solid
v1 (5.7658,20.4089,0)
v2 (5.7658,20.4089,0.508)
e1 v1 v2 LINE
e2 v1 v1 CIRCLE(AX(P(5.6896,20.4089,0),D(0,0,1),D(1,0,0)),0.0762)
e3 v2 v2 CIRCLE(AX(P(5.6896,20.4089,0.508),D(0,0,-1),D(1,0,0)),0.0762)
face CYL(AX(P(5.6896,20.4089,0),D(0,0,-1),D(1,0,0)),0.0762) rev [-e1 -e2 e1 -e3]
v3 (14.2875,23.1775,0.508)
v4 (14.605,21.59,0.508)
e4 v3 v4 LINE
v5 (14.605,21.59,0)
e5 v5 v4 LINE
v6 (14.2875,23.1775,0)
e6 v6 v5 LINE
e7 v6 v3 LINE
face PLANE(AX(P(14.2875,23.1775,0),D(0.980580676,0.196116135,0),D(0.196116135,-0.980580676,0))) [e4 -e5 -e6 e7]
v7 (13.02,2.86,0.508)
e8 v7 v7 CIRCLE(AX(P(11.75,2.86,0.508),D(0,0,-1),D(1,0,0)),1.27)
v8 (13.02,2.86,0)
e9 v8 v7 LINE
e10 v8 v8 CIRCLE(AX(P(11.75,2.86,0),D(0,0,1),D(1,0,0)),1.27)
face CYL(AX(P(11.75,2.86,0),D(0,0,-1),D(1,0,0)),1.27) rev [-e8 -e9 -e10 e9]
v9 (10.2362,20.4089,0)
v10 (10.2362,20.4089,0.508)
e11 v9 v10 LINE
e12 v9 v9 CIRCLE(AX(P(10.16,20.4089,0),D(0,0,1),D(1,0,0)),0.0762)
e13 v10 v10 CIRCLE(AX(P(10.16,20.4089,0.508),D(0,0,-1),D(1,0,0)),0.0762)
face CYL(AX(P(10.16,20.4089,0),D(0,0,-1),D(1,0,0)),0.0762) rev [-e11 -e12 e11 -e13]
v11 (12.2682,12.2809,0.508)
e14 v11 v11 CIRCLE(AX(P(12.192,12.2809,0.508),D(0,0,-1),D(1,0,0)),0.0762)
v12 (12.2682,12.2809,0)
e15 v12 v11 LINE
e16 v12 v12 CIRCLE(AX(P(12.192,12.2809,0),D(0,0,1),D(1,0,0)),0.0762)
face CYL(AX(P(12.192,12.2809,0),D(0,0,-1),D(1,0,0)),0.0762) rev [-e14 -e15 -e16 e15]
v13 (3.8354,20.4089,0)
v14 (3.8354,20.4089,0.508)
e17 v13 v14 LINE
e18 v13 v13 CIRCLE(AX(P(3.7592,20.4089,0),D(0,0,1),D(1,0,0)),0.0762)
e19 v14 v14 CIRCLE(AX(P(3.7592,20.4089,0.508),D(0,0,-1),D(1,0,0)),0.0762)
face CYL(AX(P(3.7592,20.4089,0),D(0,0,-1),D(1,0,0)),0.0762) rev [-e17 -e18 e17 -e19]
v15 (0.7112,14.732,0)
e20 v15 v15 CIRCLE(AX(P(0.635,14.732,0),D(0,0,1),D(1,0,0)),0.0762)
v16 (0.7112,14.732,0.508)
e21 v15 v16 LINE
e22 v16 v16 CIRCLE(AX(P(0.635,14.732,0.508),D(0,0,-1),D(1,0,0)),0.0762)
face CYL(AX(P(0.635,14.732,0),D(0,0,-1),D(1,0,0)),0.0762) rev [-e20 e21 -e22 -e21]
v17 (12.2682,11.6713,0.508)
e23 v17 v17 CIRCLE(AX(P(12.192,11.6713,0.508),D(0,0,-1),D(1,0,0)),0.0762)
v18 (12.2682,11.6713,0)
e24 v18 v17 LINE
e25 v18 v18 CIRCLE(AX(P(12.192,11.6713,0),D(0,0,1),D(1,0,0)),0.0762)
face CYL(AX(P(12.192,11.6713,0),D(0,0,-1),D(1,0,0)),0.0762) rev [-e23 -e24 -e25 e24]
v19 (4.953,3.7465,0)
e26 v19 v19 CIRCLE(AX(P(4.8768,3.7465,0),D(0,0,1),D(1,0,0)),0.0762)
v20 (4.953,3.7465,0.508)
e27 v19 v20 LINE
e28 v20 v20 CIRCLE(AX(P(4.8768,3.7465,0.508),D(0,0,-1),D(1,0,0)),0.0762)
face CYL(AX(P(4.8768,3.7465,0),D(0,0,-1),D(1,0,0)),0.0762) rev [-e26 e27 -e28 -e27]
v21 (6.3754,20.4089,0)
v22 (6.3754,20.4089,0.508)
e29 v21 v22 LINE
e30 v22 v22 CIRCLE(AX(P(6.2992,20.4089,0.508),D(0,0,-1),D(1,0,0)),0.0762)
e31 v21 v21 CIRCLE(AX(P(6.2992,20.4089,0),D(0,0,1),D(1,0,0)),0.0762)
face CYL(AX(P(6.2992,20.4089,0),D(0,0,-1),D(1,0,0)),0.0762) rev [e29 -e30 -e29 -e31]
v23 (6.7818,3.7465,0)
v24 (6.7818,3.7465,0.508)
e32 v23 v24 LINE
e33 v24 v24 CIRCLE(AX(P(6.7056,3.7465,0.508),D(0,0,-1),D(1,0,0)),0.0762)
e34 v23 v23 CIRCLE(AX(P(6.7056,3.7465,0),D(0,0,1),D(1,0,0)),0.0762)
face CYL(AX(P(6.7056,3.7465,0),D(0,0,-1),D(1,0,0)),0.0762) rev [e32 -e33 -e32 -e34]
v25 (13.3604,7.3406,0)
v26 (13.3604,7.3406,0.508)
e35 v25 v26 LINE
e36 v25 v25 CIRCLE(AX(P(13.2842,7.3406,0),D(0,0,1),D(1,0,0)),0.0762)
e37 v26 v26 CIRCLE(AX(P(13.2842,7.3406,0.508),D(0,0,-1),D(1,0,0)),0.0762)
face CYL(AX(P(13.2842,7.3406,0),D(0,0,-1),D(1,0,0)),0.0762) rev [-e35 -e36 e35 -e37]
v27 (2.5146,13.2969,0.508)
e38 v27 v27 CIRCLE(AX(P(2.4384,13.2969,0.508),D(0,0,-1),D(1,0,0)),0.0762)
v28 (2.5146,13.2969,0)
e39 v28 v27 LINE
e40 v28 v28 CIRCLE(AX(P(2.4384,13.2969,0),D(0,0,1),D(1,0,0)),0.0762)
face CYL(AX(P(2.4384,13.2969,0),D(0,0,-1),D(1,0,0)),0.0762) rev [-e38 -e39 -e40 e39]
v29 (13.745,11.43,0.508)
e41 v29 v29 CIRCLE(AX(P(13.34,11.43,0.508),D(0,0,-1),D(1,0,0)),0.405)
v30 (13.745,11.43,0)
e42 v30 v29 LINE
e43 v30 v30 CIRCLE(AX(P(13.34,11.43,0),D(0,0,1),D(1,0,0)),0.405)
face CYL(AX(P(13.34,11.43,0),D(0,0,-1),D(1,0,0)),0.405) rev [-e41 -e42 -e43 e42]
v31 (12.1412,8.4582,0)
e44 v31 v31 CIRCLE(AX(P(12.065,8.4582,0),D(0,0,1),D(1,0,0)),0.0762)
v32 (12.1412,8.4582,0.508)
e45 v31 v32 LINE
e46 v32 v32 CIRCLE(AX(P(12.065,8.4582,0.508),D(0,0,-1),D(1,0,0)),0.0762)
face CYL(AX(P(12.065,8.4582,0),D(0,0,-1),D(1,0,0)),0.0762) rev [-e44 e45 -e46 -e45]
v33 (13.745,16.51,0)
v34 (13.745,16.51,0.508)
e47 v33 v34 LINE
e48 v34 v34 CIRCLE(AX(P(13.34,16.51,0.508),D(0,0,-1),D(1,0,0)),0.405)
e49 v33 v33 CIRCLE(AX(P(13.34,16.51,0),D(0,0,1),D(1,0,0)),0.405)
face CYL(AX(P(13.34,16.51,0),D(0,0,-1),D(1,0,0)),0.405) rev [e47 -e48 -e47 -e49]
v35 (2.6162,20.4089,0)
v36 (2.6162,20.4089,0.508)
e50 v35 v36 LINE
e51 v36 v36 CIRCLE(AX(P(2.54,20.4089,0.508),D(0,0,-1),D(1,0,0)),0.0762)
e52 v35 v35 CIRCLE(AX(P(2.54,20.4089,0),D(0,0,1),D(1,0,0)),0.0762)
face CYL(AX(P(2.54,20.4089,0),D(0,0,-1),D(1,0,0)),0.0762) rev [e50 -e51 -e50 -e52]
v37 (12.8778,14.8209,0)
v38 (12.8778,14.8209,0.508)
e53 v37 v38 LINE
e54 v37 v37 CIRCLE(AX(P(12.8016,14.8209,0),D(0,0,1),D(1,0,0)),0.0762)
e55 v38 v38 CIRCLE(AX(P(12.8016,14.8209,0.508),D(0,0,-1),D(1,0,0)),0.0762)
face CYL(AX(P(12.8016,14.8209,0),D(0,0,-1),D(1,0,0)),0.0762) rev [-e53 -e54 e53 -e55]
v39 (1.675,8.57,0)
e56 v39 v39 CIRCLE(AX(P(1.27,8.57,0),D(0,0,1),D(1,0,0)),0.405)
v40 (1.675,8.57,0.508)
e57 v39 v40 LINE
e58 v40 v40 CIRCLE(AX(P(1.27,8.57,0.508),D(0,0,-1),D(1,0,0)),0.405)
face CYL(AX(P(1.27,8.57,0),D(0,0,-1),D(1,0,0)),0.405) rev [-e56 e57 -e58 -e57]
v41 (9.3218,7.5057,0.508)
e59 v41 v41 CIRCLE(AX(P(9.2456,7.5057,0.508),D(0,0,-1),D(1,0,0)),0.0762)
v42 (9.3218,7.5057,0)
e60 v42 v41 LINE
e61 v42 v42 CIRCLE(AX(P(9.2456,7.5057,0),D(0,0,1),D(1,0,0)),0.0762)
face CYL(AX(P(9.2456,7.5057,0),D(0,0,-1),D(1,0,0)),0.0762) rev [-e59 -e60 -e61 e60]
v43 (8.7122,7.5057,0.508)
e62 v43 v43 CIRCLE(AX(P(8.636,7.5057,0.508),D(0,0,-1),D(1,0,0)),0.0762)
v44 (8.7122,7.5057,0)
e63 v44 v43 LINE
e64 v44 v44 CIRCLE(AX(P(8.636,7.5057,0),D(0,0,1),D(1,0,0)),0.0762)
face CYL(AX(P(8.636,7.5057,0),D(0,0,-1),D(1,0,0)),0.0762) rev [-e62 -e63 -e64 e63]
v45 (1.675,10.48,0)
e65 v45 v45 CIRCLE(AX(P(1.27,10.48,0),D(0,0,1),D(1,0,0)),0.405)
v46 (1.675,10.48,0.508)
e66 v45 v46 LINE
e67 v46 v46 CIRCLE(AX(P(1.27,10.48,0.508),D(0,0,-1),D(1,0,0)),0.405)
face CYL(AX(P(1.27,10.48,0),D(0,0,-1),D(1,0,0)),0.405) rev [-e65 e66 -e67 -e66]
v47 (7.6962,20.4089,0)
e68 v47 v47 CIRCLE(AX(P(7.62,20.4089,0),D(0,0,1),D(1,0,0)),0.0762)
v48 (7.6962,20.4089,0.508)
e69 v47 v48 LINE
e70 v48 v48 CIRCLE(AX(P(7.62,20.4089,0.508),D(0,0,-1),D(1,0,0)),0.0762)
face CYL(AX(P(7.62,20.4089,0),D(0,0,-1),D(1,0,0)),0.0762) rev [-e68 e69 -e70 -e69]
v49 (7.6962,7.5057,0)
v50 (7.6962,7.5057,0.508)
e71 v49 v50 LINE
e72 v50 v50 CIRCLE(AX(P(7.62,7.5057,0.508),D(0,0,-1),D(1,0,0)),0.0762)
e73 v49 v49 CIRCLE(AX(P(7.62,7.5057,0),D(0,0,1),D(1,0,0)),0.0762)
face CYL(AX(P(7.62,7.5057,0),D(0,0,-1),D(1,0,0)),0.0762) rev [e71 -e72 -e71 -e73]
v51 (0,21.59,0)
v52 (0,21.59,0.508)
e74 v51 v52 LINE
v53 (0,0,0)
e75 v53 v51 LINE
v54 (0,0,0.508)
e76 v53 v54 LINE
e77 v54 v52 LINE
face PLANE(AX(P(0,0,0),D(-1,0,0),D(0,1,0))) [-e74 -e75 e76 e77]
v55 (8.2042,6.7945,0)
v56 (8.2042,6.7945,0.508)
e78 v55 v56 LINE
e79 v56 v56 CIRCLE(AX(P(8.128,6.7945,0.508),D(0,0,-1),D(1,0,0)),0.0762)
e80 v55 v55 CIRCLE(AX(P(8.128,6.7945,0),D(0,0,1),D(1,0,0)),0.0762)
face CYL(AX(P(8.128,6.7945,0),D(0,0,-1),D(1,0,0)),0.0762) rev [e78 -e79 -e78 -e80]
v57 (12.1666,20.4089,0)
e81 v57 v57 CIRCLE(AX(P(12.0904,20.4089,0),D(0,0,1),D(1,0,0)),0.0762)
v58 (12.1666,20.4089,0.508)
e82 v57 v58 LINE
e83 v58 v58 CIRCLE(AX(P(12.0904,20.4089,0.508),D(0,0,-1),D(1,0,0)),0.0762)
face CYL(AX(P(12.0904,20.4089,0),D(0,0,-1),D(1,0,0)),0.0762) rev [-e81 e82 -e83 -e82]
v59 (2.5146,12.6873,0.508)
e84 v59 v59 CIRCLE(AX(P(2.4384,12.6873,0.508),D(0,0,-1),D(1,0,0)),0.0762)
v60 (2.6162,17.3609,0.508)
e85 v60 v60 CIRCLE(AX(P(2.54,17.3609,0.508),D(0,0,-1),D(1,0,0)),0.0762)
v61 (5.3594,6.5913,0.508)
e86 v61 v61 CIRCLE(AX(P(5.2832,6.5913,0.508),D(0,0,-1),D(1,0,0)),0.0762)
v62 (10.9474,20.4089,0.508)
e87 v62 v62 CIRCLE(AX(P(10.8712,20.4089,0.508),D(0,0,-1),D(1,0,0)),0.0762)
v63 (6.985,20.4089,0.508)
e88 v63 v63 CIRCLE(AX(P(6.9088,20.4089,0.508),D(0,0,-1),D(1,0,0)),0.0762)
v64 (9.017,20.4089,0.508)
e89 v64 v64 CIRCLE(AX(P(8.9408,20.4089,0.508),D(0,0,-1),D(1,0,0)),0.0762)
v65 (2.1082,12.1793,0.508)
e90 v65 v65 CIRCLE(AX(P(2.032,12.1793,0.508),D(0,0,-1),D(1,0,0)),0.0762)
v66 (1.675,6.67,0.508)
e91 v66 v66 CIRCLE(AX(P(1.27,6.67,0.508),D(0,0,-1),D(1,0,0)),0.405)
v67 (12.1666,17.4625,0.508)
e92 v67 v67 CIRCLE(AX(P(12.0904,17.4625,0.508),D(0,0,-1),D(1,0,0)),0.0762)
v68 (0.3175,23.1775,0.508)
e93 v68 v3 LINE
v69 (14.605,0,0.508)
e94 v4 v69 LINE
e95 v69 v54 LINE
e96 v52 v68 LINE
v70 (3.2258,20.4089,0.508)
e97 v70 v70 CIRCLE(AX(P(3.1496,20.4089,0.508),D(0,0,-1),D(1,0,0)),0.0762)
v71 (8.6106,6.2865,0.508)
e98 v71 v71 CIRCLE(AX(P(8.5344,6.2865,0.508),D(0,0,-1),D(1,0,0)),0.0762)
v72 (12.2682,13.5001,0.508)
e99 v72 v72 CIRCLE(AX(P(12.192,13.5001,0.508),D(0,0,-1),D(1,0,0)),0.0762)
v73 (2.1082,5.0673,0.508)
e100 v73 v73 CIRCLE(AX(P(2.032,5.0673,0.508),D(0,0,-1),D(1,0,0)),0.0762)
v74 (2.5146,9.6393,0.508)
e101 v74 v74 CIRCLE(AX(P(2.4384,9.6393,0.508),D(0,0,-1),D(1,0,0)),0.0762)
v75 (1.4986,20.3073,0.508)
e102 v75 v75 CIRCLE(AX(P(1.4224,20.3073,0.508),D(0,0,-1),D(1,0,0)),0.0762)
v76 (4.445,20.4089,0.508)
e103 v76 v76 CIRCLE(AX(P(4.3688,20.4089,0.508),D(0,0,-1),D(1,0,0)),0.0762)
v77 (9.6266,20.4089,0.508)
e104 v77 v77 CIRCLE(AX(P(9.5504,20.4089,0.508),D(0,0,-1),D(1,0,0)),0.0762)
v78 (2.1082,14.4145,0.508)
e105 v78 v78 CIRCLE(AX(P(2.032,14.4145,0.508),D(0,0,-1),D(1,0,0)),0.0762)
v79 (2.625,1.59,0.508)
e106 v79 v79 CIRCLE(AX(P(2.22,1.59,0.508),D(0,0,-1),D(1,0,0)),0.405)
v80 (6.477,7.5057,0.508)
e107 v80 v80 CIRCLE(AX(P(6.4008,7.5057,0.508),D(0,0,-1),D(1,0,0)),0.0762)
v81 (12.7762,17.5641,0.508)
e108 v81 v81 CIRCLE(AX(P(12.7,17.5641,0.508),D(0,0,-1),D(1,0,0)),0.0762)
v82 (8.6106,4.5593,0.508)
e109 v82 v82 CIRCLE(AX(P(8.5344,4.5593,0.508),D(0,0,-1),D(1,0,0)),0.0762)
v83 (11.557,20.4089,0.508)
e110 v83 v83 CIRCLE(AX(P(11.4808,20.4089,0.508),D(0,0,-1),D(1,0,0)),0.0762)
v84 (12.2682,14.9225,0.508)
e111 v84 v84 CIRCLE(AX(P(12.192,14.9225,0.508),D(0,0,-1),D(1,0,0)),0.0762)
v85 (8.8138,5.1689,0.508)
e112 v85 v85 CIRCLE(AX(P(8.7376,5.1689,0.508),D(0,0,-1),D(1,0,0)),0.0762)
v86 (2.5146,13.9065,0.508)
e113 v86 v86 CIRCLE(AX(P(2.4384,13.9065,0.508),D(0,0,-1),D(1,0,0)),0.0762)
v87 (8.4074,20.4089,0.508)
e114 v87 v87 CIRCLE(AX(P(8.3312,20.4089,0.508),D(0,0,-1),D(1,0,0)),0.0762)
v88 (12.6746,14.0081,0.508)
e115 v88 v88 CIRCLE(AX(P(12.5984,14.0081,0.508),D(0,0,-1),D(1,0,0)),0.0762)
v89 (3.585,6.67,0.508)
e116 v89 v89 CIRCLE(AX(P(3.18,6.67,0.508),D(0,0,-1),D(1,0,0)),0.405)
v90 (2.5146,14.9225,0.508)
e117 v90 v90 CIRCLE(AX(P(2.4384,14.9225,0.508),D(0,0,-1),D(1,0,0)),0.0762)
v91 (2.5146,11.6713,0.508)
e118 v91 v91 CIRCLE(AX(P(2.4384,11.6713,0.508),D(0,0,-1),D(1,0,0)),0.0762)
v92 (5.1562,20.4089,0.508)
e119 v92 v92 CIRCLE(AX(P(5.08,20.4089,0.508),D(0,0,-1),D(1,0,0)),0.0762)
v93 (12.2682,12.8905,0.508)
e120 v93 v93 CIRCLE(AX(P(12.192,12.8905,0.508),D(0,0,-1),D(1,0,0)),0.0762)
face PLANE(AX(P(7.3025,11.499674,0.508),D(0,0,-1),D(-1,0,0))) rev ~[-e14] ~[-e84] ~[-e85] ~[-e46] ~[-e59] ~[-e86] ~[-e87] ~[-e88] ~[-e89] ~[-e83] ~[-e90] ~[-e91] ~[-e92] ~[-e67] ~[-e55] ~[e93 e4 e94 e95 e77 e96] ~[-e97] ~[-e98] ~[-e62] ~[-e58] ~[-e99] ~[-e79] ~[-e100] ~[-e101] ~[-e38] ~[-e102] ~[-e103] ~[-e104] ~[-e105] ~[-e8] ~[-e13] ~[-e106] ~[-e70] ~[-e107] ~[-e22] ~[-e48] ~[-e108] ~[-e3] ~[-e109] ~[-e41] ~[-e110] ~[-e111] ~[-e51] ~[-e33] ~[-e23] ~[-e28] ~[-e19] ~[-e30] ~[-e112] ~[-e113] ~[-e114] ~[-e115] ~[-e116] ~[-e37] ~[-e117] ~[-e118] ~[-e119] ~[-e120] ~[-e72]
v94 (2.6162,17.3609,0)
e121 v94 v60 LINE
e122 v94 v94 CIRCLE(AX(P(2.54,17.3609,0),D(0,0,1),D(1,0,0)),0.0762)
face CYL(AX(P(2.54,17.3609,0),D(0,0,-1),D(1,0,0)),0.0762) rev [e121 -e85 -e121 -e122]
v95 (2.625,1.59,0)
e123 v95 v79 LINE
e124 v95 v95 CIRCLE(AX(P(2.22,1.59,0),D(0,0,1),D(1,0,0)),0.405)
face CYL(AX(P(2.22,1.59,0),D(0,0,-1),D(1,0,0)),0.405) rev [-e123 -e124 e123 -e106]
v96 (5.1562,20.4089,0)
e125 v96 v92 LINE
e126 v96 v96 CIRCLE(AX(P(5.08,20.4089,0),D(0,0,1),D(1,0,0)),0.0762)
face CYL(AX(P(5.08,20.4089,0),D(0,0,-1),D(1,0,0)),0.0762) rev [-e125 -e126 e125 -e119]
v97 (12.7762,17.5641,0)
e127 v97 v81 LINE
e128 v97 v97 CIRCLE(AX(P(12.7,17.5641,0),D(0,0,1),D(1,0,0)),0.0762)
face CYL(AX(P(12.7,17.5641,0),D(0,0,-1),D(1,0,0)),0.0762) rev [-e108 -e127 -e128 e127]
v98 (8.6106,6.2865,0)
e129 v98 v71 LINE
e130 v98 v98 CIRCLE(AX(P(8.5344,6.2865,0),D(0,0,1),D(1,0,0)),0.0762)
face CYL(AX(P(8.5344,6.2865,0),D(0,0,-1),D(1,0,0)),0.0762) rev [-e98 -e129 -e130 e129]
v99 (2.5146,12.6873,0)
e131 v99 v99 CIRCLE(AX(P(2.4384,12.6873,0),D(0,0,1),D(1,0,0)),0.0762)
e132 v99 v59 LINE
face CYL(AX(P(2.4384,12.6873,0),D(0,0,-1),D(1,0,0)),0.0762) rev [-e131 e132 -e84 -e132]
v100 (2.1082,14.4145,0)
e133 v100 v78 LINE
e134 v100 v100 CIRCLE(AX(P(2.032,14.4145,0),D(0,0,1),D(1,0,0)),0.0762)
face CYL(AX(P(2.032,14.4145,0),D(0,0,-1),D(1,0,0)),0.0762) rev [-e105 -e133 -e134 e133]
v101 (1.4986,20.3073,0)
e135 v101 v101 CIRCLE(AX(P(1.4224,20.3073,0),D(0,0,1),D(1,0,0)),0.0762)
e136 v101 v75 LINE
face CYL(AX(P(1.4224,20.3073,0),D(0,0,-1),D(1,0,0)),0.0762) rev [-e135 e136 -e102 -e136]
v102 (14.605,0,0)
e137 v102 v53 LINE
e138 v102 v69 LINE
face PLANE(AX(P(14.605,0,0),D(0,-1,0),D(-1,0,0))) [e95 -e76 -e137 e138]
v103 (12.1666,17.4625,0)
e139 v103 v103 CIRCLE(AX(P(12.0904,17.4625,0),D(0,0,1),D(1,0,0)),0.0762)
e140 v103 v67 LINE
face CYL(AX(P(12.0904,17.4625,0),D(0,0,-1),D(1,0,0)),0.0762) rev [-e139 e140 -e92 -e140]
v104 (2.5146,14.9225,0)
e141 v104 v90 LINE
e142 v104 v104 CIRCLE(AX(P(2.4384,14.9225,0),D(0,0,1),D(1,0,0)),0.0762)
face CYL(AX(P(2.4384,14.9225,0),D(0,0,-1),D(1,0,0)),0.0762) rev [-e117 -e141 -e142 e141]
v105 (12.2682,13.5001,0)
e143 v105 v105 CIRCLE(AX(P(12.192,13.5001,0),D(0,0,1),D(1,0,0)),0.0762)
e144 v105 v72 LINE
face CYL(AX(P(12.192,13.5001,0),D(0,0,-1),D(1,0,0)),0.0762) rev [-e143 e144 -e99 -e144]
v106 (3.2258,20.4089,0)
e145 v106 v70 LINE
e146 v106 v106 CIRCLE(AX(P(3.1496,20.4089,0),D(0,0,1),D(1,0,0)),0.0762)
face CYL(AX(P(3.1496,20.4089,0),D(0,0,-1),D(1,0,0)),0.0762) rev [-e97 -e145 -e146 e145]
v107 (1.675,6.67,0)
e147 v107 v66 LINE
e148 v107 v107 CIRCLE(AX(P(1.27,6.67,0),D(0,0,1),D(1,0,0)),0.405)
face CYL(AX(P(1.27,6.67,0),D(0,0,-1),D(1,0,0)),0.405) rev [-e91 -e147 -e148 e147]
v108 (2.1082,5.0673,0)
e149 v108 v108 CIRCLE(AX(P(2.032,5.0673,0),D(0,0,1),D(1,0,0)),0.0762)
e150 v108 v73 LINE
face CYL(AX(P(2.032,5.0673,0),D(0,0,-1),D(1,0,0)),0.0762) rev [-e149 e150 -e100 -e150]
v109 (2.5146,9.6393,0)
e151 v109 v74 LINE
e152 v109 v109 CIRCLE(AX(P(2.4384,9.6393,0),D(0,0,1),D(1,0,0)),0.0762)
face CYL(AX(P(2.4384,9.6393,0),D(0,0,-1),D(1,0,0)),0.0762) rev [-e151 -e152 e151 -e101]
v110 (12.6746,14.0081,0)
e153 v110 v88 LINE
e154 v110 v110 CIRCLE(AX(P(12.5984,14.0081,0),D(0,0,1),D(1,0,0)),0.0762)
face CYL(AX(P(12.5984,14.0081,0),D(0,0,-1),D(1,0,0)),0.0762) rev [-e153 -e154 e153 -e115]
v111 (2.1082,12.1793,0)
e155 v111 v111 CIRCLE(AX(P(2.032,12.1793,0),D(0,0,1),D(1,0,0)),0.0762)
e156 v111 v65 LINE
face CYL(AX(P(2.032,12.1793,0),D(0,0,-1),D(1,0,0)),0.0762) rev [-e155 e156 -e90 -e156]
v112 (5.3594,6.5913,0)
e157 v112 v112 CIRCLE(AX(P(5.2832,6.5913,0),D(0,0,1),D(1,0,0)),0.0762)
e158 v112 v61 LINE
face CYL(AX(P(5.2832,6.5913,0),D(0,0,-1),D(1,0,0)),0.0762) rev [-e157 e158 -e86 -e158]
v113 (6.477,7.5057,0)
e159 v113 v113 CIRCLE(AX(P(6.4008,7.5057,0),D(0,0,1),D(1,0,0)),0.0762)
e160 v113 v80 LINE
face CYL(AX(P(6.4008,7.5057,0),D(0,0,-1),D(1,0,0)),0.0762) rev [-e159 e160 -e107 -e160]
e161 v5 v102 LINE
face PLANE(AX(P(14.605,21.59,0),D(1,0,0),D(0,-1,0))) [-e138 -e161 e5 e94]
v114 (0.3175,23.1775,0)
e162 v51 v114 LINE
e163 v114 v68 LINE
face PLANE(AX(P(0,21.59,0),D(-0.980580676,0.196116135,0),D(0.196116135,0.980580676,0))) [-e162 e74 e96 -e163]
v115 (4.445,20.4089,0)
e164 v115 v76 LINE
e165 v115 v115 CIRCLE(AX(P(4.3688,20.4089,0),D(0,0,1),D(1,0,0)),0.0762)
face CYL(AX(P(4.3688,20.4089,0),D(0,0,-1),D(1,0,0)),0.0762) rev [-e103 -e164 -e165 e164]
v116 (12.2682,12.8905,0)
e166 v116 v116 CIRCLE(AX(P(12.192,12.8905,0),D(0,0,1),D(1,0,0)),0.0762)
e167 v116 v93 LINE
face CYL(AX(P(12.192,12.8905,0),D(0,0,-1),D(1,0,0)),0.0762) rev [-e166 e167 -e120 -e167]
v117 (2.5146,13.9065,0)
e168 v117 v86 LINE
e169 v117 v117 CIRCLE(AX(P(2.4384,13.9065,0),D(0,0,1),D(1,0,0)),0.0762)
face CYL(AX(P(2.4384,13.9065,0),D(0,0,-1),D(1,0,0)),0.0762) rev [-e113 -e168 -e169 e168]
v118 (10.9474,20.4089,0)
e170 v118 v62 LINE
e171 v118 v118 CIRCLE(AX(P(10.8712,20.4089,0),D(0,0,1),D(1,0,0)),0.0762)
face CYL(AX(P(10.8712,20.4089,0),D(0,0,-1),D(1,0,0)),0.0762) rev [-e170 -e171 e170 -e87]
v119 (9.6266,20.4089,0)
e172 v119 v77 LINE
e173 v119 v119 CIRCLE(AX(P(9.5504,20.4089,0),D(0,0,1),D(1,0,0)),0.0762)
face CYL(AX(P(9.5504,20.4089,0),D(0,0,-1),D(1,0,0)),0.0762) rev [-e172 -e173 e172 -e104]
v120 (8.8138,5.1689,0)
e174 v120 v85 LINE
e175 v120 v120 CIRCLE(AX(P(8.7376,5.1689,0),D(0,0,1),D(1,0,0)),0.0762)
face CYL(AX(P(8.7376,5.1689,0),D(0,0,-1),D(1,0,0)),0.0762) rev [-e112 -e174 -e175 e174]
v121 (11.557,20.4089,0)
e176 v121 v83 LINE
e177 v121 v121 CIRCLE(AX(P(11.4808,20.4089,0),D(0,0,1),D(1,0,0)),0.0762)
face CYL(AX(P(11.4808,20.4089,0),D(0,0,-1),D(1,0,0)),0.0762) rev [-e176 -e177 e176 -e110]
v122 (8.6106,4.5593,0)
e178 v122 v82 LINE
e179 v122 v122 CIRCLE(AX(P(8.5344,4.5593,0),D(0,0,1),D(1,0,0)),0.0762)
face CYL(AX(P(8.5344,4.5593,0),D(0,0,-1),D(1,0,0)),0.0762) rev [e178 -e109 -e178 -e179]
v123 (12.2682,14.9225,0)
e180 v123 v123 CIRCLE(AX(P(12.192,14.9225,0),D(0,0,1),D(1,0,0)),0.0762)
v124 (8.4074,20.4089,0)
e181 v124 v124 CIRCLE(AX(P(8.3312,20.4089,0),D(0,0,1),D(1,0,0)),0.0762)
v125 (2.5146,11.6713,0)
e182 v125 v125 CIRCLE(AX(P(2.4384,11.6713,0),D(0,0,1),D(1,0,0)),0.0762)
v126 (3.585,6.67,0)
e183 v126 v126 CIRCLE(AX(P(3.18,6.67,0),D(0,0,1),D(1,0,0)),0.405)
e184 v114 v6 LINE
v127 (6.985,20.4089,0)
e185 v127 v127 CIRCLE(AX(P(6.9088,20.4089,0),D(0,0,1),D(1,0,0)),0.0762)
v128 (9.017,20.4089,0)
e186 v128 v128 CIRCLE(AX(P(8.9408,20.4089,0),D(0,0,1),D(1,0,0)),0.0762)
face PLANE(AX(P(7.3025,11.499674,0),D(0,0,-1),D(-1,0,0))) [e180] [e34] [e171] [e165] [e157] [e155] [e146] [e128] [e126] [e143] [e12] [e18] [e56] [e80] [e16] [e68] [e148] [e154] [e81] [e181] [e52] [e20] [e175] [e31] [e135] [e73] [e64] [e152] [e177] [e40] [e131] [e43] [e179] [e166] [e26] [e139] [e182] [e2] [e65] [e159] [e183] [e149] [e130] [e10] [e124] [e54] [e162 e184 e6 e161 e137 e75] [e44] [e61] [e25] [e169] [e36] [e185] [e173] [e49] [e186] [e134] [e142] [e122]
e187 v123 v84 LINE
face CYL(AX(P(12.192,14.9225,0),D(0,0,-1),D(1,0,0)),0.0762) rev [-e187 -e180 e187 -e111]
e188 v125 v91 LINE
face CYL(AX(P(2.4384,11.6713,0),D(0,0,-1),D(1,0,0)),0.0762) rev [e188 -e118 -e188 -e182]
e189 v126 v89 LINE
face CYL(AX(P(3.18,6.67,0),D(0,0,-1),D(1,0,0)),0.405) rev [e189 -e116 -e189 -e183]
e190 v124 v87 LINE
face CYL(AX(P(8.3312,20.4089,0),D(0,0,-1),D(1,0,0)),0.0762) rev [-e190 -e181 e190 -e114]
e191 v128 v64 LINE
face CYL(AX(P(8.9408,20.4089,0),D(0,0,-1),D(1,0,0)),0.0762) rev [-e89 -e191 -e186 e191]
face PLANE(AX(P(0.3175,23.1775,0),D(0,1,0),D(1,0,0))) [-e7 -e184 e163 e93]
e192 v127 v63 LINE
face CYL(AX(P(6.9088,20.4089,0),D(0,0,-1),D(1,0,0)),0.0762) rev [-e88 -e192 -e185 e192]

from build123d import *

# Parameters (mm, degrees)
BOARD_OUTLINE_DEPTH = 0.508
SKETCH2_R           = 0.0762
NPTH_DEPTH          = 1.508
SKETCH3_R           = 0.405
SKETCH3_R_2         = 1.27
PTH_DEPTH           = 1.508


with BuildPart() as part:
    # Sketch1 → Board_Outline (new body)
    with BuildSketch(Plane.XY):
        Polygon((0, 0), (0, 21.59), (0.3175, 23.1775), (14.2875, 23.1775), (14.605, 21.59), (14.605, 0), align=None)
    extrude(amount=BOARD_OUTLINE_DEPTH)

    # Sketch2 → NPTH (cut, through all)
    with BuildSketch(Plane.XY):
        with Locations((1.4224, 20.3073)):
            Circle(SKETCH2_R)
        with Locations((8.5344, 4.5593)):
            Circle(SKETCH2_R)
        with Locations((12.7, 17.5641)):
            Circle(SKETCH2_R)
        with Locations((12.065, 8.4582)):
            Circle(SKETCH2_R)
        with Locations((13.2842, 7.3406)):
            Circle(SKETCH2_R)
        with Locations((0.635, 14.732)):
            Circle(SKETCH2_R)
        with Locations((3.1496, 20.4089)):
            Circle(SKETCH2_R)
        with Locations((2.4384, 14.9225)):
            Circle(SKETCH2_R)
        with Locations((2.54, 20.4089)):
            Circle(SKETCH2_R)
        with Locations((2.54, 17.3609)):
            Circle(SKETCH2_R)
        with Locations((3.7592, 20.4089)):
            Circle(SKETCH2_R)
        with Locations((2.032, 14.4145)):
            Circle(SKETCH2_R)
        with Locations((4.3688, 20.4089)):
            Circle(SKETCH2_R)
        with Locations((2.4384, 13.9065)):
            Circle(SKETCH2_R)
        with Locations((5.08, 20.4089)):
            Circle(SKETCH2_R)
        with Locations((2.4384, 13.2969)):
            Circle(SKETCH2_R)
        with Locations((5.6896, 20.4089)):
            Circle(SKETCH2_R)
        with Locations((2.4384, 12.6873)):
            Circle(SKETCH2_R)
        with Locations((6.2992, 20.4089)):
            Circle(SKETCH2_R)
        with Locations((2.032, 12.1793)):
            Circle(SKETCH2_R)
        with Locations((6.9088, 20.4089)):
            Circle(SKETCH2_R)
        with Locations((2.4384, 11.6713)):
            Circle(SKETCH2_R)
        with Locations((7.62, 20.4089)):
            Circle(SKETCH2_R)
        with Locations((12.192, 11.6713)):
            Circle(SKETCH2_R)
        with Locations((12.0904, 20.4089)):
            Circle(SKETCH2_R)
        with Locations((12.0904, 17.4625)):
            Circle(SKETCH2_R)
        with Locations((11.4808, 20.4089)):
            Circle(SKETCH2_R)
        with Locations((12.192, 14.9225)):
            Circle(SKETCH2_R)
        with Locations((10.8712, 20.4089)):
            Circle(SKETCH2_R)
        with Locations((12.8016, 14.8209)):
            Circle(SKETCH2_R)
        with Locations((10.16, 20.4089)):
            Circle(SKETCH2_R)
        with Locations((12.5984, 14.0081)):
            Circle(SKETCH2_R)
        with Locations((9.5504, 20.4089)):
            Circle(SKETCH2_R)
        with Locations((12.192, 13.5001)):
            Circle(SKETCH2_R)
        with Locations((8.9408, 20.4089)):
            Circle(SKETCH2_R)
        with Locations((12.192, 12.8905)):
            Circle(SKETCH2_R)
        with Locations((8.3312, 20.4089)):
            Circle(SKETCH2_R)
        with Locations((12.192, 12.2809)):
            Circle(SKETCH2_R)
        with Locations((6.4008, 7.5057)):
            Circle(SKETCH2_R)
        with Locations((4.8768, 3.7465)):
            Circle(SKETCH2_R)
        with Locations((2.032, 5.0673)):
            Circle(SKETCH2_R)
        with Locations((5.2832, 6.5913)):
            Circle(SKETCH2_R)
        with Locations((7.62, 7.5057)):
            Circle(SKETCH2_R)
        with Locations((8.5344, 6.2865)):
            Circle(SKETCH2_R)
        with Locations((6.7056, 3.7465)):
            Circle(SKETCH2_R)
        with Locations((8.636, 7.5057)):
            Circle(SKETCH2_R)
        with Locations((9.2456, 7.5057)):
            Circle(SKETCH2_R)
        with Locations((8.128, 6.7945)):
            Circle(SKETCH2_R)
        with Locations((2.4384, 9.6393)):
            Circle(SKETCH2_R)
        with Locations((8.7376, 5.1689)):
            Circle(SKETCH2_R)
    extrude(amount=NPTH_DEPTH, mode=Mode.SUBTRACT)

    # Sketch3 → PTH (cut, through all)
    with BuildSketch(Plane.XY):
        with Locations((1.27, 8.57)):
            Circle(SKETCH3_R)
        with Locations((2.22, 1.59)):
            Circle(SKETCH3_R)
        with Locations((1.27, 10.48)):
            Circle(SKETCH3_R)
        with Locations((11.75, 2.86)):
            Circle(SKETCH3_R_2)
        with Locations((1.27, 6.67)):
            Circle(SKETCH3_R)
        with Locations((3.18, 6.67)):
            Circle(SKETCH3_R)
        with Locations((13.34, 16.51)):
            Circle(SKETCH3_R)
        with Locations((13.34, 11.43)):
            Circle(SKETCH3_R)
    extrude(amount=PTH_DEPTH, mode=Mode.SUBTRACT)


solid = part.part
